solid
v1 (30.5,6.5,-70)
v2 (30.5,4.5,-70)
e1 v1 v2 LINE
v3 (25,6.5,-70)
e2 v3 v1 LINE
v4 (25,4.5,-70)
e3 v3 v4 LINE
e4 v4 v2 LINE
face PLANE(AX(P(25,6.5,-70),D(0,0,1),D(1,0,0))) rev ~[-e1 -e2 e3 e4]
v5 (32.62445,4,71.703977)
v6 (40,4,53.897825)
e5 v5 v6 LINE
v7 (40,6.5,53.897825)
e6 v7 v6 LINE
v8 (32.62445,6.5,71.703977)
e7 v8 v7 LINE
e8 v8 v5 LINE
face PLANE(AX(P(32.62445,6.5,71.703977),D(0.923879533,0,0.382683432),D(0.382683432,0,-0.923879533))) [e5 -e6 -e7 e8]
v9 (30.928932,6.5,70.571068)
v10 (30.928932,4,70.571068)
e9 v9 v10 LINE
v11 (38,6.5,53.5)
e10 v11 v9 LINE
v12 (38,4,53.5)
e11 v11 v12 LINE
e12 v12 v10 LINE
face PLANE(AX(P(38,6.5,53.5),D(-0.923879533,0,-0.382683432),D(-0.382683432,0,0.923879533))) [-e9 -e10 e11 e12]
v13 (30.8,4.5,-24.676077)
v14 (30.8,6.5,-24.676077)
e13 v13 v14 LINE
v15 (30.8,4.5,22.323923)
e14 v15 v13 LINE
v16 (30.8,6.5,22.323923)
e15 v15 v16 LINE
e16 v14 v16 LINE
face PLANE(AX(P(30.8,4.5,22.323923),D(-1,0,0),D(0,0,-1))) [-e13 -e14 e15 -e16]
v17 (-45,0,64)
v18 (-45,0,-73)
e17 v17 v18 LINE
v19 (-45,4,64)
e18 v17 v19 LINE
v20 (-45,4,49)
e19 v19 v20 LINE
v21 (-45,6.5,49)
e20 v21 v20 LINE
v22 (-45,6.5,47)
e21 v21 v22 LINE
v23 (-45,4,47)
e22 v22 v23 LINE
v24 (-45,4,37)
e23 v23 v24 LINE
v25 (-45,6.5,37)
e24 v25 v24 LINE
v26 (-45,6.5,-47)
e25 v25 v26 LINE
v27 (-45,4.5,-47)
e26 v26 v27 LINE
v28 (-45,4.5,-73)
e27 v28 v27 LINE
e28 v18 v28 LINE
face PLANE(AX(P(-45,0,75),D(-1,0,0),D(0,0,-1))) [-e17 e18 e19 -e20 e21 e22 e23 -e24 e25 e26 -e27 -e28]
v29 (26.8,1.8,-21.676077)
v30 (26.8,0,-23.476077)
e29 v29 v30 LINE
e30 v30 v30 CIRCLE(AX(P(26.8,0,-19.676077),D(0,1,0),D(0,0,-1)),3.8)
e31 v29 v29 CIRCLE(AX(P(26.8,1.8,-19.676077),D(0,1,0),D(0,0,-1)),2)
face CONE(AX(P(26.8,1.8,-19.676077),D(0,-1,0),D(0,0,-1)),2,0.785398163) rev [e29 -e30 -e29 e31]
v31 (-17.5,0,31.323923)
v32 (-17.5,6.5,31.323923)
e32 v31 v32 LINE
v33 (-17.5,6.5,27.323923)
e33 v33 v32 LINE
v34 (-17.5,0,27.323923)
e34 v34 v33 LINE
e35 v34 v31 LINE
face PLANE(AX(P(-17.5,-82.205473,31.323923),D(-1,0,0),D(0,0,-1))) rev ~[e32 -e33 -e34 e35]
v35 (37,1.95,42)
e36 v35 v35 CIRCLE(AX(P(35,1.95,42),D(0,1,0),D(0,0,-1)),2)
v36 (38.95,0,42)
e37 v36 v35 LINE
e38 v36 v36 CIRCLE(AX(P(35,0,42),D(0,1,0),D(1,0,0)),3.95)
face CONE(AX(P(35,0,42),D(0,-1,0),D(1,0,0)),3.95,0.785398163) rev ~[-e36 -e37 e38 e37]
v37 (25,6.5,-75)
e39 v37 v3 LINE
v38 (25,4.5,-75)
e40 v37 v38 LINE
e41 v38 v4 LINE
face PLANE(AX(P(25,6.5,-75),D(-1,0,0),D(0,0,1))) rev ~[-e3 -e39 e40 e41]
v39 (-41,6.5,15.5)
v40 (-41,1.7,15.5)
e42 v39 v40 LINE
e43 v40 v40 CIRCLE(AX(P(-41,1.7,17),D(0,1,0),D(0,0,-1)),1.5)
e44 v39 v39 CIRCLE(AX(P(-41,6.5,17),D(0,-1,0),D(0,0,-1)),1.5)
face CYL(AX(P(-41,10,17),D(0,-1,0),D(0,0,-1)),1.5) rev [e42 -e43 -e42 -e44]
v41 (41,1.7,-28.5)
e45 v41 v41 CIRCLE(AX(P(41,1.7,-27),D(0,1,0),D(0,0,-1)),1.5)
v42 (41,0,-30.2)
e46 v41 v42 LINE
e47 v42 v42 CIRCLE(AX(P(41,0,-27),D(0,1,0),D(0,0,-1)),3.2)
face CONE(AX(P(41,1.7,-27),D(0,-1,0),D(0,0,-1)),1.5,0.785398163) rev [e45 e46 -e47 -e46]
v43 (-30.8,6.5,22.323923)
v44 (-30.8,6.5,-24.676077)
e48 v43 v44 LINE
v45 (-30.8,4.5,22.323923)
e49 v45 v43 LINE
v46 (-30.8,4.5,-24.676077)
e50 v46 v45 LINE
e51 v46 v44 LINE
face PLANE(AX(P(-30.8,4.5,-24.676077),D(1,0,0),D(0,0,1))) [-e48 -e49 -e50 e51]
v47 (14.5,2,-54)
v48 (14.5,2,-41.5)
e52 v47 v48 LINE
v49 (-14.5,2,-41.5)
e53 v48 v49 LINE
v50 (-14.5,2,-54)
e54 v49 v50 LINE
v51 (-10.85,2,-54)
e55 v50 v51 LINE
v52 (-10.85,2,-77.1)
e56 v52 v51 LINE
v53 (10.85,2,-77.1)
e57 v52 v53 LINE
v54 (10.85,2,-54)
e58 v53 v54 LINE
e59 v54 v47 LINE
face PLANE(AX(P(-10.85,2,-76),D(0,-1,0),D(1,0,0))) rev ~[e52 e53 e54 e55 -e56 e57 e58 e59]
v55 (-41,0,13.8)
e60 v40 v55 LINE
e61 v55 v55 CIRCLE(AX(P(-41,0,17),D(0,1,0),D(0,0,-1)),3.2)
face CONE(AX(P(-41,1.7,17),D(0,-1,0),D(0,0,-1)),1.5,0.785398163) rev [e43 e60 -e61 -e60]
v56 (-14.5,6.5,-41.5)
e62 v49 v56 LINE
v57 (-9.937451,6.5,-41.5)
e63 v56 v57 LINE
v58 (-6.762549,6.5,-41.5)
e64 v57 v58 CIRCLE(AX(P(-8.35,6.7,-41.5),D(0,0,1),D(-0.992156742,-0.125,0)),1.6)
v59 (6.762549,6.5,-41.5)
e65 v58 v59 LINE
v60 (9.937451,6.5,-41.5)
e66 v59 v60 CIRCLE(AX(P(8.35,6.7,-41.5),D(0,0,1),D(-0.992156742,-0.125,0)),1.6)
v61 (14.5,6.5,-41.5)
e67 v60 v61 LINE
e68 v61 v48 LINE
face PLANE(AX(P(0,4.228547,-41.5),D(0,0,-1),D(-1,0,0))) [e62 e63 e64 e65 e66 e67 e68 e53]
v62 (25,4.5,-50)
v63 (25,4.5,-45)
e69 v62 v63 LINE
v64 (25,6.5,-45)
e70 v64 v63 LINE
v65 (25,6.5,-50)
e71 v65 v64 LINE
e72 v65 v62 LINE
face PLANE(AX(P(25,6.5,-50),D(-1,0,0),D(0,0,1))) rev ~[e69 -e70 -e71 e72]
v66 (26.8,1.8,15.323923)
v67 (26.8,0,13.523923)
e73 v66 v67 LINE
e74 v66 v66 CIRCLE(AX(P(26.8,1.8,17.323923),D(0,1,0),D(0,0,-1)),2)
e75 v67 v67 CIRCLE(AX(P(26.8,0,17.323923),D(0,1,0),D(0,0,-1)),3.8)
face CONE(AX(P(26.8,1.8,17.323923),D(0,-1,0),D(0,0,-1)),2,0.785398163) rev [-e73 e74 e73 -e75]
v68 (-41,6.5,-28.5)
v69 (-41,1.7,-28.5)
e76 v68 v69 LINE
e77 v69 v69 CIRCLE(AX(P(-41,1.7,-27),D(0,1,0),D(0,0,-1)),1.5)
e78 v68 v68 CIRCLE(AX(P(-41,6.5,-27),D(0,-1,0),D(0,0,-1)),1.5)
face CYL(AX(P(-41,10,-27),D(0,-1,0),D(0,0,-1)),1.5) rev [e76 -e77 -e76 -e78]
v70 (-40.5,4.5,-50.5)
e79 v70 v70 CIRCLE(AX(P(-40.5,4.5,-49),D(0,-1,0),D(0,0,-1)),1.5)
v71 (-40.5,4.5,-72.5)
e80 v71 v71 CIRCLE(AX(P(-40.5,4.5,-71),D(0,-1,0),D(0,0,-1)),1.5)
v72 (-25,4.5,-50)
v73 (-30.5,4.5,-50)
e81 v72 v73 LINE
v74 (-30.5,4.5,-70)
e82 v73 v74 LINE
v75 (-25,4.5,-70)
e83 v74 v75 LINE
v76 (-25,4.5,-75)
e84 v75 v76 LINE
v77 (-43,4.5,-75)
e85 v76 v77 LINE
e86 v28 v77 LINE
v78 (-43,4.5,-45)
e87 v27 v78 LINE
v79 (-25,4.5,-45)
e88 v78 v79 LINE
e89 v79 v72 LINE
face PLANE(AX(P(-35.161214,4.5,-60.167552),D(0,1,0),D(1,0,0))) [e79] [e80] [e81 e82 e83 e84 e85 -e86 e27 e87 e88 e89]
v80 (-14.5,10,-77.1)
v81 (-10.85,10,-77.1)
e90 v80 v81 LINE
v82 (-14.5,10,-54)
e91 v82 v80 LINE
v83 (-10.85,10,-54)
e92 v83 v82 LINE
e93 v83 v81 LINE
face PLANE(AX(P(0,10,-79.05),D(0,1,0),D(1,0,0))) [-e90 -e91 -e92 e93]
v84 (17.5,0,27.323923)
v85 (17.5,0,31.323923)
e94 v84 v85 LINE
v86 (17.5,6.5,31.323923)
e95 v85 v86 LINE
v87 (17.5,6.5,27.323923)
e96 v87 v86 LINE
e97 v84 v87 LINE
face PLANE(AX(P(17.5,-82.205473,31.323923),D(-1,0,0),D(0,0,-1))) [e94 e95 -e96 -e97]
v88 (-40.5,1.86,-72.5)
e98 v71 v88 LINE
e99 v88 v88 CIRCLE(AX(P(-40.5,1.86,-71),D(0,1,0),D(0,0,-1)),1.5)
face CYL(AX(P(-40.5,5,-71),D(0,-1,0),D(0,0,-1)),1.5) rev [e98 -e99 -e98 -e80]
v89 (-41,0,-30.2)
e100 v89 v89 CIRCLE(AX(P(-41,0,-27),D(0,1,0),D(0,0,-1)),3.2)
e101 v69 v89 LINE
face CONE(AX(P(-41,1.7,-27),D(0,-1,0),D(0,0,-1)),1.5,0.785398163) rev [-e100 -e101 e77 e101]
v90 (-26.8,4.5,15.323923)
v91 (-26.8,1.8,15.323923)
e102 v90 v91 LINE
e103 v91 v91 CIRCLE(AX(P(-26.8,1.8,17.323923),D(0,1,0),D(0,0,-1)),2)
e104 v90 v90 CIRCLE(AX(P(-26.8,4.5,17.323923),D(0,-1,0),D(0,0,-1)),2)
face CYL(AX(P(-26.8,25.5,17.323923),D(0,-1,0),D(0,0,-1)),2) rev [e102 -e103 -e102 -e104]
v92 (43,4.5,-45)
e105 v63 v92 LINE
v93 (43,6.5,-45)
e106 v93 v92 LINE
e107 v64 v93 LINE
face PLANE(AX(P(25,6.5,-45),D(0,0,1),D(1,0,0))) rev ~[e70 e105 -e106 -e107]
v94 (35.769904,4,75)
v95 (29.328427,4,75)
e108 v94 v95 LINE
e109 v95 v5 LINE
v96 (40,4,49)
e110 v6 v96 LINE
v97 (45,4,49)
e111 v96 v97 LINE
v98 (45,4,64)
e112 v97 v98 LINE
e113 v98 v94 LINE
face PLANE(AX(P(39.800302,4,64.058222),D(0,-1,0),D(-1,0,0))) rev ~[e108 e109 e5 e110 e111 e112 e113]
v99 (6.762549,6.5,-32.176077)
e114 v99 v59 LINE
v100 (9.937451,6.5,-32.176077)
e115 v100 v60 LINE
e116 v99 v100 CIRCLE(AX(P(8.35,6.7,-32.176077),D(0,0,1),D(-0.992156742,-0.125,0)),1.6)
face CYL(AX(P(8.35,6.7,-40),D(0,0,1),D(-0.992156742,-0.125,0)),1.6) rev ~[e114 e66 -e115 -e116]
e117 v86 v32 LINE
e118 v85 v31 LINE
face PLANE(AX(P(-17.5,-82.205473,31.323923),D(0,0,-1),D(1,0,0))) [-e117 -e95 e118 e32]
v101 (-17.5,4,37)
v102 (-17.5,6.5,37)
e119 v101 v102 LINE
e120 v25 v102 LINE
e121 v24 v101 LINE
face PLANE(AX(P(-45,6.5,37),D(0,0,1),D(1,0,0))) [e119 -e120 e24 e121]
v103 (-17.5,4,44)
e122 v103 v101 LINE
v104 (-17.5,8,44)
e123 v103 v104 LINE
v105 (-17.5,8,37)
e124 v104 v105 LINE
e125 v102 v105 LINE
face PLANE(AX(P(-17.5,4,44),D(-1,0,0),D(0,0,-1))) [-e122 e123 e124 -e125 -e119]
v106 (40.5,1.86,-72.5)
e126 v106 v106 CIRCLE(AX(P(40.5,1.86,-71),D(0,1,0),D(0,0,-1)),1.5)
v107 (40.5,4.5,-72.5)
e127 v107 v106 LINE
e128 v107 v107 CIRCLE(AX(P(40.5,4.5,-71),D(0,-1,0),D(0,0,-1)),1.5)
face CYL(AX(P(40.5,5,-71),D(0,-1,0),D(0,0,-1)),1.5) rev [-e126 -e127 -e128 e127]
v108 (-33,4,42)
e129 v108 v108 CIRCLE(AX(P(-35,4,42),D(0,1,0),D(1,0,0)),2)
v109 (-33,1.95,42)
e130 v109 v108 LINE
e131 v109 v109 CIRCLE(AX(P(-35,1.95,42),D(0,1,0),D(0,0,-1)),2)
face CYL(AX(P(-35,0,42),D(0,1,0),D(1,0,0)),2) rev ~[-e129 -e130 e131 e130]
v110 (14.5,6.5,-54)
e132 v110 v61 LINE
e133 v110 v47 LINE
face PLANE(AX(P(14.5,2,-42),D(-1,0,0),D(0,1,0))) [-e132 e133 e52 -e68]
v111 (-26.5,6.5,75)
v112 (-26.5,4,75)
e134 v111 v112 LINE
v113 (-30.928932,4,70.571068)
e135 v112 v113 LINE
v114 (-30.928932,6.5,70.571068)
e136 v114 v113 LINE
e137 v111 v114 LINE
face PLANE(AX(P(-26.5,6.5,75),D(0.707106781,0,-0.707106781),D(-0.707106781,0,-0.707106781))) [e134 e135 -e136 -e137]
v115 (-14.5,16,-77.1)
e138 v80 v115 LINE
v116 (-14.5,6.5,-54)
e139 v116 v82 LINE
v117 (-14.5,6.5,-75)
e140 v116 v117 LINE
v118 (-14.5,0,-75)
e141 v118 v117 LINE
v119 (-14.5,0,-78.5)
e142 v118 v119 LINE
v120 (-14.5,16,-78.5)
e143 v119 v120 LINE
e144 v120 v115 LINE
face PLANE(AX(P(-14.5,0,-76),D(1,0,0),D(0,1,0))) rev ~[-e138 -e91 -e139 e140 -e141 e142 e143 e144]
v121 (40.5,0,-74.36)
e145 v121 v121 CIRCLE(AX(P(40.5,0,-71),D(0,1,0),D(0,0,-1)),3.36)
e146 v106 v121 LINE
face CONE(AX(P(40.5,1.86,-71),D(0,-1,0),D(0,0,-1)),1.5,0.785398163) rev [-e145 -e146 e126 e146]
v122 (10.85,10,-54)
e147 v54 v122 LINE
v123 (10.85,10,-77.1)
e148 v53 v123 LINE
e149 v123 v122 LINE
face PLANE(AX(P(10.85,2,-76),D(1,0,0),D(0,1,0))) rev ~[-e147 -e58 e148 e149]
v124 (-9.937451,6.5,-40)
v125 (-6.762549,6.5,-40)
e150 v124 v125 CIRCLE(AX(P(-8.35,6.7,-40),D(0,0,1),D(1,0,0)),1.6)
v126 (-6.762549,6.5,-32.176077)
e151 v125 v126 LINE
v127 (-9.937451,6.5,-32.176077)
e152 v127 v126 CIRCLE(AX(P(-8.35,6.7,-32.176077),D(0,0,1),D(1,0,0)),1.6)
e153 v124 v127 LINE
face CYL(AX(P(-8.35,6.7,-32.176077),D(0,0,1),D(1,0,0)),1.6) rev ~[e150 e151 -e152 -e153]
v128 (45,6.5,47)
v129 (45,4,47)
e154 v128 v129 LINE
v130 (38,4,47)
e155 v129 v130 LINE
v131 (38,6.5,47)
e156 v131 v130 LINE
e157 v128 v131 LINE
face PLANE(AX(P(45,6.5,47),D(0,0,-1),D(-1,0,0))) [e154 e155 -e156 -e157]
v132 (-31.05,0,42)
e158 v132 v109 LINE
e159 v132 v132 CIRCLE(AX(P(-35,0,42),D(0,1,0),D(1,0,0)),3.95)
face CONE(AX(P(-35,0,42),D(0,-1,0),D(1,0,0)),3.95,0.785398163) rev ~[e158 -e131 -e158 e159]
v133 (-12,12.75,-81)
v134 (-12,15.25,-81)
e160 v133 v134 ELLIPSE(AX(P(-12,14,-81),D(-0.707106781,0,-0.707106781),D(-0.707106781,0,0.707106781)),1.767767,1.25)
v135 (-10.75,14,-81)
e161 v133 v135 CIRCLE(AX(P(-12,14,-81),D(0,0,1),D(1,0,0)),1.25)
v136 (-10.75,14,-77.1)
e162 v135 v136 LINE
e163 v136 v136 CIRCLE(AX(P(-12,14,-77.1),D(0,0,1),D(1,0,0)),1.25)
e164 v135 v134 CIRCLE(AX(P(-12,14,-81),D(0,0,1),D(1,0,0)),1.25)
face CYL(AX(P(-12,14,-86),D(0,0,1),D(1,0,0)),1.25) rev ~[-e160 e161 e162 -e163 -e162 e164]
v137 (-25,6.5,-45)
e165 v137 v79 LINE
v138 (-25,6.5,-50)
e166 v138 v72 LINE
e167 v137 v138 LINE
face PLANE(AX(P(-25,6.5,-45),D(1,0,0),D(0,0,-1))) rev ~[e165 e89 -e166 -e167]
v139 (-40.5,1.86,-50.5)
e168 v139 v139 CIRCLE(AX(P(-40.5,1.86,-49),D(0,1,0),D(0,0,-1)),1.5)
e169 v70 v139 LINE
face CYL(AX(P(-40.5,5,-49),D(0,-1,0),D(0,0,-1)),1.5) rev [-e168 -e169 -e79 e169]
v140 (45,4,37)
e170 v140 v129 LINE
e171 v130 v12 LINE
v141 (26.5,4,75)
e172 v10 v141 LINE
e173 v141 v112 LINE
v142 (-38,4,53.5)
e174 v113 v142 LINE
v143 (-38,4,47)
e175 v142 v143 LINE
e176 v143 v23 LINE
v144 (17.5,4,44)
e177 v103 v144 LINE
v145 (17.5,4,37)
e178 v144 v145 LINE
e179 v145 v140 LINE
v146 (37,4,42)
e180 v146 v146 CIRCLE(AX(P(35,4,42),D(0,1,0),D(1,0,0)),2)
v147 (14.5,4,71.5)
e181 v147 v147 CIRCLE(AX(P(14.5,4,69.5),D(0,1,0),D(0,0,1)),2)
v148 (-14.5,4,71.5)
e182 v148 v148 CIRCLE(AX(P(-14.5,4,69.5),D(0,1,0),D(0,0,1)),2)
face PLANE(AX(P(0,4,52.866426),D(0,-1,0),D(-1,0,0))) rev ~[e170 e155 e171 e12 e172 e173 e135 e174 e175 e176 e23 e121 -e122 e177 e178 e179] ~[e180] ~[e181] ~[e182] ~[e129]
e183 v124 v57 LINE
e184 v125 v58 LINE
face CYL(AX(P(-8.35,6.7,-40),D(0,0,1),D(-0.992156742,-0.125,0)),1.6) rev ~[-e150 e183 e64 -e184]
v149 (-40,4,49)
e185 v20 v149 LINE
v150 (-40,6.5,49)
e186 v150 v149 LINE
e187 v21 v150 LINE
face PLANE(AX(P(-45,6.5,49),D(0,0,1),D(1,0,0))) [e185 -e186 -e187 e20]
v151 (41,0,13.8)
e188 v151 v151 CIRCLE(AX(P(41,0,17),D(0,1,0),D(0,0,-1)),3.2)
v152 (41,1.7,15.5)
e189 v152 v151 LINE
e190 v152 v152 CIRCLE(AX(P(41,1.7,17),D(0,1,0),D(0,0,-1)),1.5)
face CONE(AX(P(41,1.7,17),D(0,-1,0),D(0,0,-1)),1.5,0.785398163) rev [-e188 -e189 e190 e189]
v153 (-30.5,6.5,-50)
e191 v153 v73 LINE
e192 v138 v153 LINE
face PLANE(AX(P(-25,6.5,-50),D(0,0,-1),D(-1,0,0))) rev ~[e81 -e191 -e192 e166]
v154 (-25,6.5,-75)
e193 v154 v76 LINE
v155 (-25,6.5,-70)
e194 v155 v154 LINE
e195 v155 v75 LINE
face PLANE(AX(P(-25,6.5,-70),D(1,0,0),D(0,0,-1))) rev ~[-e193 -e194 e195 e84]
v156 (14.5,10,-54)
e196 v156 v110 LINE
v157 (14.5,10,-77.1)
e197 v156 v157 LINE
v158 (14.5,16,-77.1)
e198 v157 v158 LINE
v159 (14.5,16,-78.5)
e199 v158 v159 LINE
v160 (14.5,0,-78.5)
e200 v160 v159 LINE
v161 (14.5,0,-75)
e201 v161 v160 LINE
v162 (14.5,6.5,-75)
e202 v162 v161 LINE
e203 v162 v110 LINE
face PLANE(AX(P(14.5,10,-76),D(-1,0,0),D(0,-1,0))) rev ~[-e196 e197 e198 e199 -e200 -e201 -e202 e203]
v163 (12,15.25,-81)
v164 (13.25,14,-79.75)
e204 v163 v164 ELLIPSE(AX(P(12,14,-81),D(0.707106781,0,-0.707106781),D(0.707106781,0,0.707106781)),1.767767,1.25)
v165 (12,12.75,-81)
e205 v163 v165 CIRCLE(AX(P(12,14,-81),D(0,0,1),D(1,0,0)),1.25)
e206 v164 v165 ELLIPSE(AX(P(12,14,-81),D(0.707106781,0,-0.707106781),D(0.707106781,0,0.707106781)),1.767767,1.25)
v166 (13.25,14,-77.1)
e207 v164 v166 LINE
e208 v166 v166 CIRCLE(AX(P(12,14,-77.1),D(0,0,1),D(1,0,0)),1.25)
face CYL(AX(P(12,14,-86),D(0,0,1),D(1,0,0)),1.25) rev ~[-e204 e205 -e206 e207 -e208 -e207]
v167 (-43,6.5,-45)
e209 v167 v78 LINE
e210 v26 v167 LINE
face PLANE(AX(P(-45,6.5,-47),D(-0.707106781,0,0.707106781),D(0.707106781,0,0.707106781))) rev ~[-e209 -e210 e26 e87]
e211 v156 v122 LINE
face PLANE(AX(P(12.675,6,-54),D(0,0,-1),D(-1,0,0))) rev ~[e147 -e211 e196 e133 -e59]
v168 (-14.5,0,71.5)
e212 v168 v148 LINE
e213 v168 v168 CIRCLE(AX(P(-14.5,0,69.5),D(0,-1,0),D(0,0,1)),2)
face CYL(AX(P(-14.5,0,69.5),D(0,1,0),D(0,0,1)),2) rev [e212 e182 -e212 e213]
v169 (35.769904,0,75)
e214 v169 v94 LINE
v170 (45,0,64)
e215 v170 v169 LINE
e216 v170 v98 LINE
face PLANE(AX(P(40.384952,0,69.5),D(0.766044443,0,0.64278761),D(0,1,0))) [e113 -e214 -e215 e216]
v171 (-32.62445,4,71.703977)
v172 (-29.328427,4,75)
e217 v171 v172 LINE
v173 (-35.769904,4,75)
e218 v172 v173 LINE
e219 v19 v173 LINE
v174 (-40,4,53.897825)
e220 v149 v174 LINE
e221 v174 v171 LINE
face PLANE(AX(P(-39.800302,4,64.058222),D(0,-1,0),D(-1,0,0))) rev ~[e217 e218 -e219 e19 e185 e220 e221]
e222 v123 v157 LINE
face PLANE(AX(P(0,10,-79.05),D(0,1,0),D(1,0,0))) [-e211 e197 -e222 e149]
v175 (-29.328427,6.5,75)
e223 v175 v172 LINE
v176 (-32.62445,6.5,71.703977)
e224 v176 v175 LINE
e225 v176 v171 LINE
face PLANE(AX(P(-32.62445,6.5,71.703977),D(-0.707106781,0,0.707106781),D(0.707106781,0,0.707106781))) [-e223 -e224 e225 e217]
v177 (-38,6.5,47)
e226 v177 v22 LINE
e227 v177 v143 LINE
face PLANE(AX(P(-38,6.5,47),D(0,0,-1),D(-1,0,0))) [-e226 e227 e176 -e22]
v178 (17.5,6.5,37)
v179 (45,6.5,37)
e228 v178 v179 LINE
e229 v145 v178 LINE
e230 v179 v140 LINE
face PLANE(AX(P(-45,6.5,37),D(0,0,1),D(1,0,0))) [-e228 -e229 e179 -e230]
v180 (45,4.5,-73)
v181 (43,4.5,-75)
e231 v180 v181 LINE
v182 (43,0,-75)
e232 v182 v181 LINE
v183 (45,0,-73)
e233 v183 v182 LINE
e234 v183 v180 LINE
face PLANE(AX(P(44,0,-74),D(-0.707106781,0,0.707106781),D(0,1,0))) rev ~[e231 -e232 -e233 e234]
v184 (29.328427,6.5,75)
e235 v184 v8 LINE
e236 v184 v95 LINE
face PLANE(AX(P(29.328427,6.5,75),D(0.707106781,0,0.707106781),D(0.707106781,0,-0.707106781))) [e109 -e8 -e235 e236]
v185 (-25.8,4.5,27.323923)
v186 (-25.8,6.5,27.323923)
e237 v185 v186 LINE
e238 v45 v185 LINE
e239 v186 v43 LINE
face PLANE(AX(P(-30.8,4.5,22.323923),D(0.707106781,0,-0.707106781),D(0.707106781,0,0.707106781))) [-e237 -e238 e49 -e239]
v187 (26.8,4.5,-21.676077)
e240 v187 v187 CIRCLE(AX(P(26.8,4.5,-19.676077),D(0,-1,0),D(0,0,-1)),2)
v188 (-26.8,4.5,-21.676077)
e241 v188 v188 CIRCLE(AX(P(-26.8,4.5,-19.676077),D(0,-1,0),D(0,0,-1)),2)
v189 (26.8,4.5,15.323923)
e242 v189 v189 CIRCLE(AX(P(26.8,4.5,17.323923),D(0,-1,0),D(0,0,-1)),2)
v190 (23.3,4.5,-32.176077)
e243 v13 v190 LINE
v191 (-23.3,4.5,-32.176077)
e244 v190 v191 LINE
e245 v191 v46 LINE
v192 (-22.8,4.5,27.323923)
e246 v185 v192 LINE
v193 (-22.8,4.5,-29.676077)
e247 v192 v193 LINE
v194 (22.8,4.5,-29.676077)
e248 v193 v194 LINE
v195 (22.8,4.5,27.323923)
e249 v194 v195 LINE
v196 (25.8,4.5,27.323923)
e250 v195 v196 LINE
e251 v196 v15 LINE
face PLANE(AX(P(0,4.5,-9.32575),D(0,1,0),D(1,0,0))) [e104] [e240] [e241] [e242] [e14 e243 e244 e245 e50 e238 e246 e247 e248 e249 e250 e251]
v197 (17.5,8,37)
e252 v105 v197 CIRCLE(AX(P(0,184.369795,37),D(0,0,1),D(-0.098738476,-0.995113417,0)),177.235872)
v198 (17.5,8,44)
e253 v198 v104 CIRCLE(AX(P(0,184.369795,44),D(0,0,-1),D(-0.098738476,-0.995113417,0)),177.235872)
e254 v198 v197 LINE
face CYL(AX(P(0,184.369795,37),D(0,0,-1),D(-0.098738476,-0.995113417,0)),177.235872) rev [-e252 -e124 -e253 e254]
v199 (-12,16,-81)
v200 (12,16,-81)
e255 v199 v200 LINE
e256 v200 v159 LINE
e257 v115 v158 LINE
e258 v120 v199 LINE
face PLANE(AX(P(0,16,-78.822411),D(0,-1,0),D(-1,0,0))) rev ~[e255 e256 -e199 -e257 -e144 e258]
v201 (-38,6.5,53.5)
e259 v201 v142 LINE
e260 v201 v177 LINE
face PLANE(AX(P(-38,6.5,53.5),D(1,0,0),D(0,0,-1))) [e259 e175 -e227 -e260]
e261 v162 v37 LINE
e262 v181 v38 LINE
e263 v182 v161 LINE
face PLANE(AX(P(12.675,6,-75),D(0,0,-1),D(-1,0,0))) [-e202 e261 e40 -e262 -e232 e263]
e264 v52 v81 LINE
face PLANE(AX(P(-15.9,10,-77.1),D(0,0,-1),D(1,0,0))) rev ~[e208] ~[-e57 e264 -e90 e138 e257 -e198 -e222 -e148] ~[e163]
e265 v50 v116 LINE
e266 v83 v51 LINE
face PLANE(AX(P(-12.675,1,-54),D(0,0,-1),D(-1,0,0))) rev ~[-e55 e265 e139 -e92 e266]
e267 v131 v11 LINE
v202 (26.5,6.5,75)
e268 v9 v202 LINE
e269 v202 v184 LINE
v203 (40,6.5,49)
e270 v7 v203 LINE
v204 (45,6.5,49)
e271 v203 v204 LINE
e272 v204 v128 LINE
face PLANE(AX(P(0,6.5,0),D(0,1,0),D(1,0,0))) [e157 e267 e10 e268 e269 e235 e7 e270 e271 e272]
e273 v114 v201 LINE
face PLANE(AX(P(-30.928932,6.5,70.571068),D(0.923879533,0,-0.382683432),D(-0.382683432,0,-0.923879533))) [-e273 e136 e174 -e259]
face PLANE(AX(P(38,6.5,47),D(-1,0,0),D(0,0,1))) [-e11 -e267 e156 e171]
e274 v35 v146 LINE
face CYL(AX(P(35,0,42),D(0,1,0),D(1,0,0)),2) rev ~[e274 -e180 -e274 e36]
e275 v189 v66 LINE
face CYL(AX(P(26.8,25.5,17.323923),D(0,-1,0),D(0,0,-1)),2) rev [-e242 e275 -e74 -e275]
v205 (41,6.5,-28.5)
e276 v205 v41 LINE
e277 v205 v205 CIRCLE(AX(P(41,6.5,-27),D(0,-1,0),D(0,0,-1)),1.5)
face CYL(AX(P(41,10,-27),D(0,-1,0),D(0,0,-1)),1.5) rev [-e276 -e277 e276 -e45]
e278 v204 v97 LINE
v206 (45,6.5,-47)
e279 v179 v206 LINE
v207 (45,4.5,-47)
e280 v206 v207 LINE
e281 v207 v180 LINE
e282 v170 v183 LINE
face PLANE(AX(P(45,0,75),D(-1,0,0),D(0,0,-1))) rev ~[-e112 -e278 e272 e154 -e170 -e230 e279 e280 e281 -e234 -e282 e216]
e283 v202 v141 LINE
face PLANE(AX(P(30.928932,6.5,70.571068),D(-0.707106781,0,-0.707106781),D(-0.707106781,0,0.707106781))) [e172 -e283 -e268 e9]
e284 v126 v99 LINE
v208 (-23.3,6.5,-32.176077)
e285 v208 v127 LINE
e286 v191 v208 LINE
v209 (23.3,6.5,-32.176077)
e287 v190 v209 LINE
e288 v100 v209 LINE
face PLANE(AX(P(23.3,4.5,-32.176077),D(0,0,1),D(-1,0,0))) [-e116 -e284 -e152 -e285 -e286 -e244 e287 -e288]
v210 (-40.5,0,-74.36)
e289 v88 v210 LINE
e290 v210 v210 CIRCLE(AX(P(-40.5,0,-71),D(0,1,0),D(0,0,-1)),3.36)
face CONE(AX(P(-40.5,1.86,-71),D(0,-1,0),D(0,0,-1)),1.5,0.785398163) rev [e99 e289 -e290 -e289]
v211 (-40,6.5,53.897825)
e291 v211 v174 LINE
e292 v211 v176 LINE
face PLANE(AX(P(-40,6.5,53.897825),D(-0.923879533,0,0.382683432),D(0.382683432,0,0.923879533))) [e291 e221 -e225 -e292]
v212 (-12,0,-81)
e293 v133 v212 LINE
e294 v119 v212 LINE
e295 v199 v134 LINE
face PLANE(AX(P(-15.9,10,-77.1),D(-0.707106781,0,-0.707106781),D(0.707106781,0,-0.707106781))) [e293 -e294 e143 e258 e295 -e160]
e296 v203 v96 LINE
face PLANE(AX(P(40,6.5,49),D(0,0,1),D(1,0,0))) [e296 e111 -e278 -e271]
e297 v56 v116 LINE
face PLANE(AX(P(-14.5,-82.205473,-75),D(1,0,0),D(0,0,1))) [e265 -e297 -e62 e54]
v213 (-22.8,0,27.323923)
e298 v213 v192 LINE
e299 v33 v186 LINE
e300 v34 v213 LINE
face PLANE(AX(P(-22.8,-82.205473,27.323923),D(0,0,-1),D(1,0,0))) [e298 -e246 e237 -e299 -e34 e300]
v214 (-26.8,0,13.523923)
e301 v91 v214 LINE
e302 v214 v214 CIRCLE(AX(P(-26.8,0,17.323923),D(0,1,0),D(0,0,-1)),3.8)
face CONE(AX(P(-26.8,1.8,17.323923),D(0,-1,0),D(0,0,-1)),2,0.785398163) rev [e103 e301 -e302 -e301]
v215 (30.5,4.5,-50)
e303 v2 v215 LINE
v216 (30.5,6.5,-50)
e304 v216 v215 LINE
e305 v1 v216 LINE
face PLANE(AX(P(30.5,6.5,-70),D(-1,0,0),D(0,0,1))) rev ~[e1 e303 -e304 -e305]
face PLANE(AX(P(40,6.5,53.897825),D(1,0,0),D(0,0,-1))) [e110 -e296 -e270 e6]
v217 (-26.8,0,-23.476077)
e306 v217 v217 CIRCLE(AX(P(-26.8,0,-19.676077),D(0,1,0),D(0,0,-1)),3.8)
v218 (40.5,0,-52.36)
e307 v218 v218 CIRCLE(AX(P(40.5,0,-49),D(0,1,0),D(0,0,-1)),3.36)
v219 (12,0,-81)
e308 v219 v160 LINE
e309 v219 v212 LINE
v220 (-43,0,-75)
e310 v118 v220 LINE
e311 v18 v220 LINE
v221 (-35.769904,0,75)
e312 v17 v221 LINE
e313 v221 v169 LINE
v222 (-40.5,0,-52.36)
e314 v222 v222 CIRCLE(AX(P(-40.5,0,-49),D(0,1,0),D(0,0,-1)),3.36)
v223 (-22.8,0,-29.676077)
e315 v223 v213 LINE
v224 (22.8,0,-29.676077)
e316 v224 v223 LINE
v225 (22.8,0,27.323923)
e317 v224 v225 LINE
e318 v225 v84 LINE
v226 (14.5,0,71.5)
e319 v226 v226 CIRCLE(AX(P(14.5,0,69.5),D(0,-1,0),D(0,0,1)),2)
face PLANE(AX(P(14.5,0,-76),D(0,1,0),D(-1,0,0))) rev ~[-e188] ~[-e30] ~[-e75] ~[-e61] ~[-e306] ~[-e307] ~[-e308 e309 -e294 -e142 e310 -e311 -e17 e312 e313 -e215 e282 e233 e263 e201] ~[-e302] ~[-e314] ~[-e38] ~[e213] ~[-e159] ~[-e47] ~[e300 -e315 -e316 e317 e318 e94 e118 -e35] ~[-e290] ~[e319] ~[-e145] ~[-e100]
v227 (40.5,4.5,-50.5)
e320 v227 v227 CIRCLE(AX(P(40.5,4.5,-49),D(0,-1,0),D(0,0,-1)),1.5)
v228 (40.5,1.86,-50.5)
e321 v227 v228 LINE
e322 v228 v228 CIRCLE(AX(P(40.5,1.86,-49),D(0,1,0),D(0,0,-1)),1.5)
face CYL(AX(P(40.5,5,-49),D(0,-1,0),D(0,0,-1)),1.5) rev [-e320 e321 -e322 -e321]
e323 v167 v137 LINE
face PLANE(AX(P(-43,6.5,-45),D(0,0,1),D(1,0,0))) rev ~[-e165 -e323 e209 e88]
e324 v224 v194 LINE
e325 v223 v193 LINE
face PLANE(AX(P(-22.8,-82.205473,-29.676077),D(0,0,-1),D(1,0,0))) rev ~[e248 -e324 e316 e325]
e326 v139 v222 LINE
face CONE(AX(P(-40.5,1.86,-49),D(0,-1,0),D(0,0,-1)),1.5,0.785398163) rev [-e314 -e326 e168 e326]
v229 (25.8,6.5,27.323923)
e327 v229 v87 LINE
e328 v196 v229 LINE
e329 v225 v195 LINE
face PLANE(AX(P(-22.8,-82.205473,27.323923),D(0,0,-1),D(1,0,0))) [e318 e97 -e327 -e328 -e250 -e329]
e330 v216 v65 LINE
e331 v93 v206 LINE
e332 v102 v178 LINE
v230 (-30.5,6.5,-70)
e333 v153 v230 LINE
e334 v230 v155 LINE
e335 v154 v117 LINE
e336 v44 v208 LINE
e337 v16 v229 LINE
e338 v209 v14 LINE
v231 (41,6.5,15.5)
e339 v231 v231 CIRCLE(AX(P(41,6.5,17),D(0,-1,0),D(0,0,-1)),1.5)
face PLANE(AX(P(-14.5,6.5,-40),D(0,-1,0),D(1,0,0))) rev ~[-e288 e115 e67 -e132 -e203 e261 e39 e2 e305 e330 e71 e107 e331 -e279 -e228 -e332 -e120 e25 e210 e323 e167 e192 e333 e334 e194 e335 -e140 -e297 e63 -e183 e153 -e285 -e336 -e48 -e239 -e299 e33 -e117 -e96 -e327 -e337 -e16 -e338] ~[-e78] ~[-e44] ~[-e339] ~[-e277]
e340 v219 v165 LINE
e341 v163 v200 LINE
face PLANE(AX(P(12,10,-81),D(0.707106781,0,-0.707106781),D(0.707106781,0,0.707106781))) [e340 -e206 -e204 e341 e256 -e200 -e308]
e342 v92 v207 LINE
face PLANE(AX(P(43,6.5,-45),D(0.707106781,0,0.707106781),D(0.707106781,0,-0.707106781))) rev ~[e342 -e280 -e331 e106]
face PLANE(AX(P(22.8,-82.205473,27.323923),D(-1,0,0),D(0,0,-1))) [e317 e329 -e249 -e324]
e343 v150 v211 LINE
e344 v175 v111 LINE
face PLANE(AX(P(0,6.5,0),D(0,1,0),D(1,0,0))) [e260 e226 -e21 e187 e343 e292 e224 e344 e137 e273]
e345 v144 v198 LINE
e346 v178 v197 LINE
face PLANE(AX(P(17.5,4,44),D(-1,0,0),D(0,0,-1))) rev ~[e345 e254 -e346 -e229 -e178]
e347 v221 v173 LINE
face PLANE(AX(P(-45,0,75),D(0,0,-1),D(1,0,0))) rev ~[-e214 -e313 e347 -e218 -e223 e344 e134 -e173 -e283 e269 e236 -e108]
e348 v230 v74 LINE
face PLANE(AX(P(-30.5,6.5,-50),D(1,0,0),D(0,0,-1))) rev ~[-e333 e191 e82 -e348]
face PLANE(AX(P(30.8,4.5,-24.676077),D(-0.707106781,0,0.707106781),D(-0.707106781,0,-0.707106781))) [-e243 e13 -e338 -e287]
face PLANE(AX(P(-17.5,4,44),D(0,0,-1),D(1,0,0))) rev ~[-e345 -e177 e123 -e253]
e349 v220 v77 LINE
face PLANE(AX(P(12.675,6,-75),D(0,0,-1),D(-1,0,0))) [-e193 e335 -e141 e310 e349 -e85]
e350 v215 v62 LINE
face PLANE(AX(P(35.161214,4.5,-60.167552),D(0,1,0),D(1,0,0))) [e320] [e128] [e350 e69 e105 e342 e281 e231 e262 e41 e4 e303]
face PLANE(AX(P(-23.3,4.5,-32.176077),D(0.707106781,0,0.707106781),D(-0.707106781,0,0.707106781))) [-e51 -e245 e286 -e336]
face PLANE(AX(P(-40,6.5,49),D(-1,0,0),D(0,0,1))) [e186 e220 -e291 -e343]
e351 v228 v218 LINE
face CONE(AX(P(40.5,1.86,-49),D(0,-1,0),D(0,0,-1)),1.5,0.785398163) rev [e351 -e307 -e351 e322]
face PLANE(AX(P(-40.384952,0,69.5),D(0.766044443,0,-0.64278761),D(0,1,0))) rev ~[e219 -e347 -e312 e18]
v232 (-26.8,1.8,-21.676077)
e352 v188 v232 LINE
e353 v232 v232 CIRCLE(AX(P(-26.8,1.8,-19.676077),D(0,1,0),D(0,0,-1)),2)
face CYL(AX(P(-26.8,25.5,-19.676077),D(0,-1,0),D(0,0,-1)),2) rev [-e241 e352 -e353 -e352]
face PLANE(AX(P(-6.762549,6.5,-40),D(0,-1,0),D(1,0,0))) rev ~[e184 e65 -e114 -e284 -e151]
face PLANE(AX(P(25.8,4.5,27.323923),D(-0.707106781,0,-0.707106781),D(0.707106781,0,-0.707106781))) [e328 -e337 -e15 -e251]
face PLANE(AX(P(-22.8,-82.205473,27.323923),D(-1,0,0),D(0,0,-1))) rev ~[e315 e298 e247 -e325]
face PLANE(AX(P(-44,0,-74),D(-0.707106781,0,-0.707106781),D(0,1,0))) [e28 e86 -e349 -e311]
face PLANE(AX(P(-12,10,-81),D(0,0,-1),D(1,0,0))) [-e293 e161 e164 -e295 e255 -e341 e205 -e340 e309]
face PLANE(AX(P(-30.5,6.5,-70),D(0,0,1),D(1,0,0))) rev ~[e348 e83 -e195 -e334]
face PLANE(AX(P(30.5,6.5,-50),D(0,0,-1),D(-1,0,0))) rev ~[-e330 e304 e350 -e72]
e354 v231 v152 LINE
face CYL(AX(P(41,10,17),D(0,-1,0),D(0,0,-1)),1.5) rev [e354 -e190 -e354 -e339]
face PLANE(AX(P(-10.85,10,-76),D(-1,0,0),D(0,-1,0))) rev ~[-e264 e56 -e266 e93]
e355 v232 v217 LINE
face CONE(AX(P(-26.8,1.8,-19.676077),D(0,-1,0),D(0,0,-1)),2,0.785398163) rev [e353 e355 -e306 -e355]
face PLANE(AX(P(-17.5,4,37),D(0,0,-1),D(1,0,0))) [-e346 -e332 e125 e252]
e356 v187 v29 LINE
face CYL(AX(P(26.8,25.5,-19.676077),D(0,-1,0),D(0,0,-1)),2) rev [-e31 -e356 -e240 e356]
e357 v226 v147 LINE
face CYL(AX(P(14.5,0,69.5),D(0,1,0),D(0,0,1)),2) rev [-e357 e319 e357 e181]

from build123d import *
from OCP.BRepFilletAPI import BRepFilletAPI_MakeChamfer

# Parameters (mm, degrees)
SKETCH1_W                                       = 90
SKETCH1_H                                       = 150
BOSS_EXTRUDE1_DEPTH                             = 6.5
CSK_FOR_M4_FLAT_HEAD_MACHINE_SCREW1_D           = 4
CSK_FOR_M4_FLAT_HEAD_MACHINE_SCREW1_DEPTH       = 38.798278762
CSK_FOR_M4_FLAT_HEAD_MACHINE_SCREW1_CSINK_D     = 7.9
CSK_FOR_M4_FLAT_HEAD_MACHINE_SCREW1_CSINK_ANGLE = 90
CSK_FOR_M4_FLAT_HEAD_MACHINE_SCREW1_TIP         = 1.201721238
SKETCH7_W                                       = 21.7
SKETCH7_H                                       = 24.512560893
CUT_EXTRUDE4_DEPTH                              = 4.5
CUT_EXTRUDE8_DEPTH                              = 88.705473033
CUT_EXTRUDE8_DEPTH_BACK                         = 88.705473033
CUT_EXTRUDE9_DEPTH                              = 88.705473033
CUT_EXTRUDE9_DEPTH_BACK                         = 88.705473033
SKETCH12_W                                      = 45.6
SKETCH12_H                                      = 57
CUT_EXTRUDE11_DEPTH                             = 88.705473033
CUT_EXTRUDE11_DEPTH_BACK                        = 2
CUT_EXTRUDE12_DEPTH                             = 2.5
CSK_FOR_M4_SFHCS1_AT_2_COUNT                    = 2
CSK_FOR_M4_SFHCS1_AT_2_PITCH                    = 37
CSK_FOR_M4_SFHCS1_AT_3_COUNT                    = 2
CSK_FOR_M4_SFHCS1_AT_3_PITCH                    = 65.130330876
CSK_FOR_M4_SFHCS1_AT_4_COUNT                    = 2
CSK_FOR_M4_SFHCS1_AT_4_PITCH                    = 53.6
SKETCH17_W                                      = 35
SKETCH17_H                                      = 7
BOSS_EXTRUDE2_DEPTH                             = 4
CUT_EXTRUDE13_DEPTH                             = 88.705473033
CUT_EXTRUDE13_DEPTH_BACK                        = 88.705473033
SKETCH18_W                                      = 35
SKETCH18_H                                      = 4
CUT_EXTRUDE14_DEPTH                             = 2
CSK_FOR_M3_SFHCS1_AT_2_COUNT                    = 2
CSK_FOR_M3_SFHCS1_AT_2_PITCH                    = 22
CSK_FOR_M3_SFHCS1_AT_3_COUNT                    = 2
CSK_FOR_M3_SFHCS1_AT_3_PITCH                    = 83.934498271
CSK_FOR_M3_SFHCS1_AT_4_COUNT                    = 2
CSK_FOR_M3_SFHCS1_AT_4_PITCH                    = 81
CSK_FOR_M3_SFHCS2_AT_2_COUNT                    = 2
CSK_FOR_M3_SFHCS2_AT_2_PITCH                    = 44
CSK_FOR_M3_SFHCS2_AT_3_COUNT                    = 2
CSK_FOR_M3_SFHCS2_AT_3_PITCH                    = 82
CSK_FOR_M3_SFHCS2_AT_4_COUNT                    = 2
CSK_FOR_M3_SFHCS2_AT_4_PITCH                    = 93.059120993
SKETCH24_W                                      = 29
SKETCH24_H                                      = 4.5
CUT_EXTRUDE15_DEPTH                             = 2
CSK_FOR_M4_SFHCS2_AT_2_COUNT                    = 2
CSK_FOR_M4_SFHCS2_AT_2_PITCH                    = 29
CHAMFER1_SIZE                                   = 2
SKETCH27_W                                      = 29
SKETCH27_H                                      = 12
BOSS_EXTRUDE3_DEPTH                             = 2
SKETCH28_W                                      = 3.65
SKETCH28_H                                      = 8
SKETCH28_H_2                                    = 2
BOSS_EXTRUDE4_DEPTH                             = 21
SKETCH29_R                                      = 1.6
CUT_EXTRUDE16_DEPTH                             = 9.323922895
BOSS_EXTRUDE5_DEPTH                             = 1
BOSS_EXTRUDE9_DEPTH                             = 1.5
BOSS_EXTRUDE10_DEPTH                            = 5
SKETCH36_W                                      = 21.7
SKETCH36_H                                      = 3.9
BOSS_EXTRUDE11_DEPTH                            = 8
CHAMFER4_SIZE                                   = 2.5
BOSS_EXTRUDE12_DEPTH                            = 6
F_1_0MM_DOWEL_HOLE1_D                           = 2.5
F_1_0MM_DOWEL_HOLE1_DEPTH                       = 5
F_1_0MM_DOWEL_HOLE1_TIP                         = 0.751075774
CHAMFER5_SIZE                                   = 11
CHAMFER5_SIZE2                                  = 9.230095943
CUT_EXTRUDE19_DEPTH                             = 9.5
CUT_EXTRUDE18_DEPTH                             = 14


with BuildPart() as part:
    # Sketch1 → Boss-Extrude1 (new body)
    with BuildSketch(Plane(origin=(0, 0, 0), x_dir=(1, 0, 0), z_dir=(0, 1, 0))):
        Rectangle(SKETCH1_W, SKETCH1_H)
    extrude(amount=BOSS_EXTRUDE1_DEPTH)

    # CSK for M4 Flat Head Machine Screw1
    with Locations(Plane(origin=(-695.683007616, 0, -1338.247292614), x_dir=(-1, 0, 0), z_dir=(0, -1, 0))):
        with Locations((-730.683007616, -1380.247292614), (-660.683007616, -1380.247292614)):
            CounterSinkHole(CSK_FOR_M4_FLAT_HEAD_MACHINE_SCREW1_D / 2, CSK_FOR_M4_FLAT_HEAD_MACHINE_SCREW1_CSINK_D / 2, depth=CSK_FOR_M4_FLAT_HEAD_MACHINE_SCREW1_DEPTH, counter_sink_angle=CSK_FOR_M4_FLAT_HEAD_MACHINE_SCREW1_CSINK_ANGLE)
            with Locations((0, 0, -(CSK_FOR_M4_FLAT_HEAD_MACHINE_SCREW1_DEPTH + CSK_FOR_M4_FLAT_HEAD_MACHINE_SCREW1_TIP / 2))):  # 118° drill point
                Cone(0, CSK_FOR_M4_FLAT_HEAD_MACHINE_SCREW1_D / 2, CSK_FOR_M4_FLAT_HEAD_MACHINE_SCREW1_TIP, mode=Mode.SUBTRACT)

    # Sketch7 → Cut-Extrude4 (cut)
    with BuildSketch(Plane(origin=(0, 6.5, 0), x_dir=(1, 0, 0), z_dir=(0, 1, 0))):
        with Locations((0, 62.743719554)):
            Rectangle(SKETCH7_W, SKETCH7_H)
    extrude(amount=-CUT_EXTRUDE4_DEPTH, mode=Mode.SUBTRACT)

    # Sketch11 → Cut-Extrude8 (cut, two sides: drawn at the far end of the back side and taken through both)
    with BuildSketch(Plane(origin=(0, 6.5, 0), x_dir=(1, 0, 0), z_dir=(0, 1, 0)).offset(-CUT_EXTRUDE8_DEPTH_BACK)):
        Polygon((-10.85, 75), (-14.5, 75), (-14.5, 42), (14.5, 42), (14.5, 75), (10.85, 75), (10.85, 50.487439107), (-10.85, 50.487439107), align=None)
    extrude(amount=CUT_EXTRUDE8_DEPTH + CUT_EXTRUDE8_DEPTH_BACK, mode=Mode.SUBTRACT)


with BuildPart() as cut_extrude8_piece_1:
    # of the separate pieces the step leaves, piece 1, a body of its own (cut_extrude8_pieces)
    add(part.part.solids().sort_by_distance((-45, 0, -75))[0])

    # Sketch12 → Cut-Extrude9 (cut, two sides: drawn at the far end of the back side and taken through both)
    with BuildSketch(Plane(origin=(0, 6.5, 0), x_dir=(1, 0, 0), z_dir=(0, 1, 0)).offset(-CUT_EXTRUDE9_DEPTH_BACK)):
        with Locations((0, 1.176077105)):
            Rectangle(SKETCH12_W, SKETCH12_H)
    extrude(amount=CUT_EXTRUDE9_DEPTH + CUT_EXTRUDE9_DEPTH_BACK, mode=Mode.SUBTRACT)

    # Sketch14 → Cut-Extrude11 (cut, two sides: drawn at the far end of the back side and taken through both)
    with BuildSketch(Plane(origin=(0, 6.5, 0), x_dir=(1, 0, 0), z_dir=(0, 1, 0)).offset(-CUT_EXTRUDE11_DEPTH_BACK)):
        Polygon((-22.8, -27.323922895), (-22.8, 29.676077105), (22.8, 29.676077105), (22.8, -27.323922895), (25.8, -27.323922895), (30.8, -22.323922895), (30.8, 24.676077105), (23.3, 32.176077105), (-23.3, 32.176077105), (-30.8, 24.676077105), (-30.8, -22.323922895), (-25.8, -27.323922895), align=None)
    extrude(amount=CUT_EXTRUDE11_DEPTH + CUT_EXTRUDE11_DEPTH_BACK, mode=Mode.SUBTRACT)

    # Sketch2 → Cut-Extrude12 (cut)
    with BuildSketch(Plane(origin=(0, 6.5, 0), x_dir=(1, 0, 0), z_dir=(0, 1, 0))):
        Polygon((-38, -47), (-45, -47), (-45, -37), (45, -37), (45, -47), (38, -47), (38, -53.5), (30.928932188, -70.571067812), (26.5, -75), (-26.5, -75), (-30.928932188, -70.571067812), (-38, -53.5), align=None)
        Polygon((-32.624450318, -71.703976807), (-29.328427125, -75), (-45, -75), (-45, -49), (-40, -49), (-40, -53.897824735), align=None)
        Polygon((29.328427125, -75), (32.624450318, -71.703976807), (40, -53.897824735), (40, -49), (45, -49), (45, -75), align=None)
    extrude(amount=-CUT_EXTRUDE12_DEPTH, mode=Mode.SUBTRACT)

    # Sketch16 → CSK for M4 SFHCS1 (revolve, cut)
    with BuildSketch(Plane(origin=(-26.8, 0, 17.323922895), x_dir=(0, 0, -1), z_dir=(1, 0, 0))):
        Polygon((0, 0), (0, 26.701721238), (2, 25.5), (2, 1.8), (3.8, 0), align=None)
    csk_for_m4_sfhcs1 = revolve(axis=Axis((-26.8, -6.35, 17.323922895), (0, 1, 0)), mode=Mode.SUBTRACT)

    # CSK for M4 SFHCS1 at 2: CSK for M4 SFHCS1 ×2
    with Locations(*[(0, 0, -i * CSK_FOR_M4_SFHCS1_AT_2_PITCH) for i in range(1, CSK_FOR_M4_SFHCS1_AT_2_COUNT)]):
        add(csk_for_m4_sfhcs1, mode=Mode.SUBTRACT)

    # CSK for M4 SFHCS1 at 3: CSK for M4 SFHCS1 ×2
    with Locations(*[Vector(0.8229652648649476, 0, -0.5680916940299047) * (i * CSK_FOR_M4_SFHCS1_AT_3_PITCH) for i in range(1, CSK_FOR_M4_SFHCS1_AT_3_COUNT)]):
        add(csk_for_m4_sfhcs1, mode=Mode.SUBTRACT)

    # CSK for M4 SFHCS1 at 4: CSK for M4 SFHCS1 ×2
    with Locations(*[(i * CSK_FOR_M4_SFHCS1_AT_4_PITCH, 0, 0) for i in range(1, CSK_FOR_M4_SFHCS1_AT_4_COUNT)]):
        add(csk_for_m4_sfhcs1, mode=Mode.SUBTRACT)

    # Sketch17 → Boss-Extrude2 (add)
    with BuildSketch(Plane(origin=(0, 4, 0), x_dir=(1, 0, 0), z_dir=(0, 1, 0))):
        with Locations((0, -40.5)):
            Rectangle(SKETCH17_W, SKETCH17_H)
    extrude(amount=BOSS_EXTRUDE2_DEPTH)

    # Sketch18 → Cut-Extrude13 (cut, two sides: drawn at the far end of the back side and taken through both)
    with BuildSketch(Plane(origin=(0, 6.5, 0), x_dir=(1, 0, 0), z_dir=(0, 1, 0)).offset(-CUT_EXTRUDE13_DEPTH_BACK)):
        with Locations((0, -29.323922895)):
            Rectangle(SKETCH18_W, SKETCH18_H)
    extrude(amount=CUT_EXTRUDE13_DEPTH + CUT_EXTRUDE13_DEPTH_BACK, mode=Mode.SUBTRACT)

    # Sketch19 → Cut-Extrude14 (cut)
    with BuildSketch(Plane(origin=(0, 6.5, 0), x_dir=(1, 0, 0), z_dir=(0, 1, 0))):
        Polygon((25, 70), (30.5, 70), (30.5, 50), (25, 50), (25, 45), (43, 45), (45, 47), (45, 75), (25, 75), align=None)
        Polygon((-25, 50), (-30.5, 50), (-30.5, 70), (-25, 70), (-25, 75), (-45, 75), (-45, 47), (-43, 45), (-25, 45), align=None)
    extrude(amount=-CUT_EXTRUDE14_DEPTH, mode=Mode.SUBTRACT)

    # Sketch21 → CSK for M3 SFHCS1 (revolve, cut)
    with BuildSketch(Plane(origin=(40.5, 0, -71), x_dir=(0, 0, -1), z_dir=(1, 0, 0))):
        Polygon((0, 0), (0, 5.901290929), (1.5, 5), (1.5, 1.86), (3.36, 0), align=None)
    csk_for_m3_sfhcs1 = revolve(axis=Axis((40.5, -6.35, -71), (0, 1, 0)), mode=Mode.SUBTRACT)

    # CSK for M3 SFHCS1 at 2: CSK for M3 SFHCS1 ×2
    with Locations(*[(0, 0, i * CSK_FOR_M3_SFHCS1_AT_2_PITCH) for i in range(1, CSK_FOR_M3_SFHCS1_AT_2_COUNT)]):
        add(csk_for_m3_sfhcs1, mode=Mode.SUBTRACT)

    # CSK for M3 SFHCS1 at 3: CSK for M3 SFHCS1 ×2
    with Locations(*[Vector(-0.9650382342013949, 0, 0.2621091500300089) * (i * CSK_FOR_M3_SFHCS1_AT_3_PITCH) for i in range(1, CSK_FOR_M3_SFHCS1_AT_3_COUNT)]):
        add(csk_for_m3_sfhcs1, mode=Mode.SUBTRACT)

    # CSK for M3 SFHCS1 at 4: CSK for M3 SFHCS1 ×2
    with Locations(*[(-i * CSK_FOR_M3_SFHCS1_AT_4_PITCH, 0, 0) for i in range(1, CSK_FOR_M3_SFHCS1_AT_4_COUNT)]):
        add(csk_for_m3_sfhcs1, mode=Mode.SUBTRACT)

    # Sketch23 → CSK for M3 SFHCS2 (revolve, cut)
    with BuildSketch(Plane(origin=(-41, 0, 17), x_dir=(0, 0, -1), z_dir=(1, 0, 0))):
        Polygon((0, 0), (0, 10.901290929), (1.5, 10), (1.5, 1.7), (3.2, 0), align=None)
    csk_for_m3_sfhcs2 = revolve(axis=Axis((-41, -6.35, 17), (0, 1, 0)), mode=Mode.SUBTRACT)

    # CSK for M3 SFHCS2 at 2: CSK for M3 SFHCS2 ×2
    with Locations(*[(0, 0, -i * CSK_FOR_M3_SFHCS2_AT_2_PITCH) for i in range(1, CSK_FOR_M3_SFHCS2_AT_2_COUNT)]):
        add(csk_for_m3_sfhcs2, mode=Mode.SUBTRACT)

    # CSK for M3 SFHCS2 at 3: CSK for M3 SFHCS2 ×2
    with Locations(*[(i * CSK_FOR_M3_SFHCS2_AT_3_PITCH, 0, 0) for i in range(1, CSK_FOR_M3_SFHCS2_AT_3_COUNT)]):
        add(csk_for_m3_sfhcs2, mode=Mode.SUBTRACT)

    # CSK for M3 SFHCS2 at 4: CSK for M3 SFHCS2 ×2
    with Locations(*[Vector(0.8811602680635651, 0, -0.4728177048146) * (i * CSK_FOR_M3_SFHCS2_AT_4_PITCH) for i in range(1, CSK_FOR_M3_SFHCS2_AT_4_COUNT)]):
        add(csk_for_m3_sfhcs2, mode=Mode.SUBTRACT)

    # Sketch24 → Cut-Extrude15 (cut)
    with BuildSketch(Plane(origin=(0, 0, -42), x_dir=(-1, 0, 0), z_dir=(0, 0, -1))):
        with Locations((0, 4.25)):
            Rectangle(SKETCH24_W, SKETCH24_H)
    extrude(amount=-CUT_EXTRUDE15_DEPTH, mode=Mode.SUBTRACT)

    # Sketch26 → CSK for M4 SFHCS2 (revolve, cut)
    with BuildSketch(Plane(origin=(-14.5, 11, 69.5), x_dir=(0, 0, 1), z_dir=(1, 0, 0))):
        Polygon((0, 0), (0, 12.201721238), (2, 11), (2, 1.8), (3.8, 0), align=None)
    csk_for_m4_sfhcs2 = revolve(axis=Axis((-14.5, 17.35, 69.5), (0, -1, 0)), mode=Mode.SUBTRACT)

    # CSK for M4 SFHCS2 at 2: CSK for M4 SFHCS2 ×2
    with Locations(*[(i * CSK_FOR_M4_SFHCS2_AT_2_PITCH, 0, 0) for i in range(1, CSK_FOR_M4_SFHCS2_AT_2_COUNT)]):
        add(csk_for_m4_sfhcs2, mode=Mode.SUBTRACT)

    # Chamfer1
    chamfer1_edges = [cut_extrude8_piece_1.edges().sort_by_distance(p)[0] for p in [
        (45, 2.25, -75),
        (-45, 2.25, -75),
    ]]
    chamfer(chamfer1_edges, length=CHAMFER1_SIZE)

    # Sketch27 → Boss-Extrude3 (add)
    with BuildSketch(Plane.XZ):
        with Locations((0, -48)):
            Rectangle(SKETCH27_W, SKETCH27_H)
    extrude(amount=-BOSS_EXTRUDE3_DEPTH)


with BuildPart() as cut_extrude8_piece_2:
    # of the separate pieces the step leaves, piece 2, a body of its own (cut_extrude8_pieces)
    add(part.part.solids().sort_by_distance((10.85, 0, -75))[0])

    # Combine1: union Cut-Extrude8 piece 1
    add(cut_extrude8_piece_1.part)

    # Sketch28 → Boss-Extrude4 (add)
    with BuildSketch(Plane(origin=(0, 0, -54), x_dir=(-1, 0, 0), z_dir=(0, 0, -1))):
        with Locations((-12.675, 6)):
            Rectangle(SKETCH28_W, SKETCH28_H)
        with Locations((12.675, 1)):
            Rectangle(SKETCH28_W, SKETCH28_H_2)
        with Locations((12.675, 6)):
            Rectangle(SKETCH28_W, SKETCH28_H)
        with Locations((-12.675, 1)):
            Rectangle(SKETCH28_W, SKETCH28_H_2)
    extrude(amount=BOSS_EXTRUDE4_DEPTH)

    # Sketch29 → Cut-Extrude16 (cut)
    with BuildSketch(Plane.XY.offset(-32.176077105)):
        with BuildLine():
            ThreePointArc((9.95, 6.7), (8.24980334, 8.296859615), (6.762549213, 6.5))
            Line((6.762549213, 6.5), (7.116103732, 6.5))
            ThreePointArc((7.116103732, 6.5), (8.249676361, 7.945967563), (9.6, 6.7))
            ThreePointArc((9.6, 6.7), (9.595967563, 6.599676361), (9.583896268, 6.5))
            Line((9.583896268, 6.5), (9.937450787, 6.5))
            ThreePointArc((9.937450787, 6.5), (9.946859615, 6.59980334), (9.95, 6.7))
        make_face()
        with BuildLine():
            Line((7.116103732, 6.5), (6.762549213, 6.5))
            ThreePointArc((6.762549213, 6.5), (8.35, 5.1), (9.937450787, 6.5))
            Line((9.937450787, 6.5), (9.583896268, 6.5))
            ThreePointArc((9.583896268, 6.5), (8.35, 5.45), (7.116103732, 6.5))
        make_face()
        with BuildLine():
            ThreePointArc((9.95, 6.7), (8.24980334, 8.296859615), (6.762549213, 6.5))
            Line((6.762549213, 6.5), (7.116103732, 6.5))
            ThreePointArc((7.116103732, 6.5), (8.249676361, 7.945967563), (9.6, 6.7))
            ThreePointArc((9.6, 6.7), (9.595967563, 6.599676361), (9.583896268, 6.5))
            Line((9.583896268, 6.5), (9.937450787, 6.5))
            ThreePointArc((9.937450787, 6.5), (9.946859615, 6.59980334), (9.95, 6.7))
        make_face()
        with BuildLine():
            Line((7.116103732, 6.5), (6.762549213, 6.5))
            ThreePointArc((6.762549213, 6.5), (8.35, 5.1), (9.937450787, 6.5))
            Line((9.937450787, 6.5), (9.583896268, 6.5))
            ThreePointArc((9.583896268, 6.5), (8.35, 5.45), (7.116103732, 6.5))
        make_face()
        with BuildLine():
            Line((9.583896268, 6.5), (7.116103732, 6.5))
            ThreePointArc((7.116103732, 6.5), (8.35, 5.45), (9.583896268, 6.5))
        make_face()
        with BuildLine():
            ThreePointArc((9.6, 6.7), (8.249676361, 7.945967563), (7.116103732, 6.5))
            Line((7.116103732, 6.5), (9.583896268, 6.5))
            ThreePointArc((9.583896268, 6.5), (9.595967563, 6.599676361), (9.6, 6.7))
        make_face()
        with BuildLine():
            Line((9.583896268, 6.5), (7.116103732, 6.5))
            ThreePointArc((7.116103732, 6.5), (8.35, 5.45), (9.583896268, 6.5))
        make_face()
        with BuildLine():
            ThreePointArc((9.6, 6.7), (8.249676361, 7.945967563), (7.116103732, 6.5))
            Line((7.116103732, 6.5), (9.583896268, 6.5))
            ThreePointArc((9.583896268, 6.5), (9.595967563, 6.599676361), (9.6, 6.7))
        make_face()
        with Locations((-8.35, 6.7)):
            Circle(SKETCH29_R)
    extrude(amount=-CUT_EXTRUDE16_DEPTH, mode=Mode.SUBTRACT)

    # Sketch30 → Boss-Extrude5 (add)
    with BuildSketch(Plane(origin=(0, 0, -75), x_dir=(-1, 0, 0), z_dir=(0, 0, -1))):
        Polygon((-14.5, 10), (-14.5, 0), (14.5, 0), (14.5, 10), (10.85, 10), (10.85, 2), (-10.85, 2), (-10.85, 10), align=None)
    extrude(amount=BOSS_EXTRUDE5_DEPTH)

    # Sketch34 → Boss-Extrude9 (add)
    with BuildSketch(Plane(origin=(0, 0, -40), x_dir=(-1, 0, 0), z_dir=(0, 0, -1))):
        with BuildLine():
            Line((6.762549213, 6.5), (-6.762549213, 6.5))
            ThreePointArc((-6.762549213, 6.5), (-8.35, 5.1), (-9.937450787, 6.5))
            Line((-9.937450787, 6.5), (-14.5, 6.5))
            Line((-14.5, 6.5), (-14.5, 2))
            Line((-14.5, 2), (14.5, 2))
            Line((14.5, 2), (14.5, 6.5))
            Line((14.5, 6.5), (9.937450787, 6.5))
            ThreePointArc((9.937450787, 6.5), (8.35, 5.1), (6.762549213, 6.5))
        make_face()
    extrude(amount=BOSS_EXTRUDE9_DEPTH)

    # Sketch35 → Boss-Extrude10 (add)
    with BuildSketch(Plane(origin=(0, 0, -76), x_dir=(-1, 0, 0), z_dir=(0, 0, -1))):
        Polygon((-10.85, 10), (-14.5, 10), (-14.5, 0), (14.5, 0), (14.5, 10), (10.85, 10), (10.85, 2), (-10.85, 2), align=None)
    extrude(amount=BOSS_EXTRUDE10_DEPTH)

    # Sketch36 → Boss-Extrude11 (add)
    with BuildSketch(Plane(origin=(0, 2, 0), x_dir=(1, 0, 0), z_dir=(0, 1, 0))):
        with Locations((0, 79.05)):
            Rectangle(SKETCH36_W, SKETCH36_H)
    extrude(amount=BOSS_EXTRUDE11_DEPTH)

    # Chamfer4
    chamfer4_edges = [cut_extrude8_piece_2.edges().sort_by_distance(p)[0] for p in [
        (14.5, 5, -81),
        (-14.5, 5, -81),
    ]]
    chamfer(chamfer4_edges, length=CHAMFER4_SIZE)

    # Sketch37 → Boss-Extrude12 (add)
    with BuildSketch(Plane(origin=(0, 10, 0), x_dir=(1, 0, 0), z_dir=(0, 1, 0))):
        Polygon((-10.85, 77.1), (-15.9, 77.1), (-12, 81), (12, 81), (15.9, 77.1), align=None)
    extrude(amount=BOSS_EXTRUDE12_DEPTH)

    # Ø1.0mm Dowel Hole1
    with Locations(Plane(origin=(0, 0, -81), x_dir=(-1, 0, 0), z_dir=(0, 0, -1))):
        with Locations((-12, 14), (12, 14)):
            Hole(F_1_0MM_DOWEL_HOLE1_D / 2, depth=F_1_0MM_DOWEL_HOLE1_DEPTH)
            with Locations((0, 0, -(F_1_0MM_DOWEL_HOLE1_DEPTH + F_1_0MM_DOWEL_HOLE1_TIP / 2))):  # 118° drill point
                Cone(0, F_1_0MM_DOWEL_HOLE1_D / 2, F_1_0MM_DOWEL_HOLE1_TIP, mode=Mode.SUBTRACT)

    # Chamfer5: one chamfer whose edges measure the first distance from different faces: ONE call of the kernel's chamfer builder (chamfer() names one face for all edges)
    chamfer5_edges_1 = [cut_extrude8_piece_2.edges().sort_by_distance(p)[0] for p in [
        (45, 2, 75),
    ]]
    chamfer5_side_1 = [cut_extrude8_piece_2.faces().sort_by_distance(p)[0] for p in [
        (45, 2.887804878, -1.217073171),
    ]]
    chamfer5_edges_2 = [cut_extrude8_piece_2.edges().sort_by_distance(p)[0] for p in [
        (-45, 2, 75),
    ]]
    chamfer5_side_2 = [cut_extrude8_piece_2.faces().sort_by_distance(p)[0] for p in [
        (-45, 2.887804878, -1.217073171),
    ]]
    chamfer5 = BRepFilletAPI_MakeChamfer(cut_extrude8_piece_2.part.solid().wrapped)
    for e in chamfer5_edges_1:
        chamfer5.Add(CHAMFER5_SIZE, CHAMFER5_SIZE2, e.wrapped, chamfer5_side_1[0].wrapped)  # the first distance lies on this face
    for e in chamfer5_edges_2:
        chamfer5.Add(CHAMFER5_SIZE, CHAMFER5_SIZE2, e.wrapped, chamfer5_side_2[0].wrapped)  # the first distance lies on this face
    add(Compound.cast(chamfer5.Shape()), mode=Mode.REPLACE)

    # Sketch42 → Cut-Extrude19 (cut)
    with BuildSketch(Plane(origin=(0, 0, 37), x_dir=(-1, 0, 0), z_dir=(0, 0, -1))):
        with BuildLine():
            Line((-17.5, 8), (17.5, 8))
            ThreePointArc((17.5, 8), (0, 7.133922251), (-17.5, 8))
        make_face()
    extrude(amount=-CUT_EXTRUDE19_DEPTH, mode=Mode.SUBTRACT)

    # Sketch41 → Cut-Extrude18 (cut)
    with BuildSketch(Plane.XZ.offset(-10)):
        Polygon((14.5, -77.1), (14.5, -78.5), (15.9, -77.1), align=None)
        Polygon((-15.9, -77.1), (-14.5, -78.5), (-14.5, -77.1), align=None)
    extrude(amount=-CUT_EXTRUDE18_DEPTH, mode=Mode.SUBTRACT)


solid = cut_extrude8_piece_2.part
